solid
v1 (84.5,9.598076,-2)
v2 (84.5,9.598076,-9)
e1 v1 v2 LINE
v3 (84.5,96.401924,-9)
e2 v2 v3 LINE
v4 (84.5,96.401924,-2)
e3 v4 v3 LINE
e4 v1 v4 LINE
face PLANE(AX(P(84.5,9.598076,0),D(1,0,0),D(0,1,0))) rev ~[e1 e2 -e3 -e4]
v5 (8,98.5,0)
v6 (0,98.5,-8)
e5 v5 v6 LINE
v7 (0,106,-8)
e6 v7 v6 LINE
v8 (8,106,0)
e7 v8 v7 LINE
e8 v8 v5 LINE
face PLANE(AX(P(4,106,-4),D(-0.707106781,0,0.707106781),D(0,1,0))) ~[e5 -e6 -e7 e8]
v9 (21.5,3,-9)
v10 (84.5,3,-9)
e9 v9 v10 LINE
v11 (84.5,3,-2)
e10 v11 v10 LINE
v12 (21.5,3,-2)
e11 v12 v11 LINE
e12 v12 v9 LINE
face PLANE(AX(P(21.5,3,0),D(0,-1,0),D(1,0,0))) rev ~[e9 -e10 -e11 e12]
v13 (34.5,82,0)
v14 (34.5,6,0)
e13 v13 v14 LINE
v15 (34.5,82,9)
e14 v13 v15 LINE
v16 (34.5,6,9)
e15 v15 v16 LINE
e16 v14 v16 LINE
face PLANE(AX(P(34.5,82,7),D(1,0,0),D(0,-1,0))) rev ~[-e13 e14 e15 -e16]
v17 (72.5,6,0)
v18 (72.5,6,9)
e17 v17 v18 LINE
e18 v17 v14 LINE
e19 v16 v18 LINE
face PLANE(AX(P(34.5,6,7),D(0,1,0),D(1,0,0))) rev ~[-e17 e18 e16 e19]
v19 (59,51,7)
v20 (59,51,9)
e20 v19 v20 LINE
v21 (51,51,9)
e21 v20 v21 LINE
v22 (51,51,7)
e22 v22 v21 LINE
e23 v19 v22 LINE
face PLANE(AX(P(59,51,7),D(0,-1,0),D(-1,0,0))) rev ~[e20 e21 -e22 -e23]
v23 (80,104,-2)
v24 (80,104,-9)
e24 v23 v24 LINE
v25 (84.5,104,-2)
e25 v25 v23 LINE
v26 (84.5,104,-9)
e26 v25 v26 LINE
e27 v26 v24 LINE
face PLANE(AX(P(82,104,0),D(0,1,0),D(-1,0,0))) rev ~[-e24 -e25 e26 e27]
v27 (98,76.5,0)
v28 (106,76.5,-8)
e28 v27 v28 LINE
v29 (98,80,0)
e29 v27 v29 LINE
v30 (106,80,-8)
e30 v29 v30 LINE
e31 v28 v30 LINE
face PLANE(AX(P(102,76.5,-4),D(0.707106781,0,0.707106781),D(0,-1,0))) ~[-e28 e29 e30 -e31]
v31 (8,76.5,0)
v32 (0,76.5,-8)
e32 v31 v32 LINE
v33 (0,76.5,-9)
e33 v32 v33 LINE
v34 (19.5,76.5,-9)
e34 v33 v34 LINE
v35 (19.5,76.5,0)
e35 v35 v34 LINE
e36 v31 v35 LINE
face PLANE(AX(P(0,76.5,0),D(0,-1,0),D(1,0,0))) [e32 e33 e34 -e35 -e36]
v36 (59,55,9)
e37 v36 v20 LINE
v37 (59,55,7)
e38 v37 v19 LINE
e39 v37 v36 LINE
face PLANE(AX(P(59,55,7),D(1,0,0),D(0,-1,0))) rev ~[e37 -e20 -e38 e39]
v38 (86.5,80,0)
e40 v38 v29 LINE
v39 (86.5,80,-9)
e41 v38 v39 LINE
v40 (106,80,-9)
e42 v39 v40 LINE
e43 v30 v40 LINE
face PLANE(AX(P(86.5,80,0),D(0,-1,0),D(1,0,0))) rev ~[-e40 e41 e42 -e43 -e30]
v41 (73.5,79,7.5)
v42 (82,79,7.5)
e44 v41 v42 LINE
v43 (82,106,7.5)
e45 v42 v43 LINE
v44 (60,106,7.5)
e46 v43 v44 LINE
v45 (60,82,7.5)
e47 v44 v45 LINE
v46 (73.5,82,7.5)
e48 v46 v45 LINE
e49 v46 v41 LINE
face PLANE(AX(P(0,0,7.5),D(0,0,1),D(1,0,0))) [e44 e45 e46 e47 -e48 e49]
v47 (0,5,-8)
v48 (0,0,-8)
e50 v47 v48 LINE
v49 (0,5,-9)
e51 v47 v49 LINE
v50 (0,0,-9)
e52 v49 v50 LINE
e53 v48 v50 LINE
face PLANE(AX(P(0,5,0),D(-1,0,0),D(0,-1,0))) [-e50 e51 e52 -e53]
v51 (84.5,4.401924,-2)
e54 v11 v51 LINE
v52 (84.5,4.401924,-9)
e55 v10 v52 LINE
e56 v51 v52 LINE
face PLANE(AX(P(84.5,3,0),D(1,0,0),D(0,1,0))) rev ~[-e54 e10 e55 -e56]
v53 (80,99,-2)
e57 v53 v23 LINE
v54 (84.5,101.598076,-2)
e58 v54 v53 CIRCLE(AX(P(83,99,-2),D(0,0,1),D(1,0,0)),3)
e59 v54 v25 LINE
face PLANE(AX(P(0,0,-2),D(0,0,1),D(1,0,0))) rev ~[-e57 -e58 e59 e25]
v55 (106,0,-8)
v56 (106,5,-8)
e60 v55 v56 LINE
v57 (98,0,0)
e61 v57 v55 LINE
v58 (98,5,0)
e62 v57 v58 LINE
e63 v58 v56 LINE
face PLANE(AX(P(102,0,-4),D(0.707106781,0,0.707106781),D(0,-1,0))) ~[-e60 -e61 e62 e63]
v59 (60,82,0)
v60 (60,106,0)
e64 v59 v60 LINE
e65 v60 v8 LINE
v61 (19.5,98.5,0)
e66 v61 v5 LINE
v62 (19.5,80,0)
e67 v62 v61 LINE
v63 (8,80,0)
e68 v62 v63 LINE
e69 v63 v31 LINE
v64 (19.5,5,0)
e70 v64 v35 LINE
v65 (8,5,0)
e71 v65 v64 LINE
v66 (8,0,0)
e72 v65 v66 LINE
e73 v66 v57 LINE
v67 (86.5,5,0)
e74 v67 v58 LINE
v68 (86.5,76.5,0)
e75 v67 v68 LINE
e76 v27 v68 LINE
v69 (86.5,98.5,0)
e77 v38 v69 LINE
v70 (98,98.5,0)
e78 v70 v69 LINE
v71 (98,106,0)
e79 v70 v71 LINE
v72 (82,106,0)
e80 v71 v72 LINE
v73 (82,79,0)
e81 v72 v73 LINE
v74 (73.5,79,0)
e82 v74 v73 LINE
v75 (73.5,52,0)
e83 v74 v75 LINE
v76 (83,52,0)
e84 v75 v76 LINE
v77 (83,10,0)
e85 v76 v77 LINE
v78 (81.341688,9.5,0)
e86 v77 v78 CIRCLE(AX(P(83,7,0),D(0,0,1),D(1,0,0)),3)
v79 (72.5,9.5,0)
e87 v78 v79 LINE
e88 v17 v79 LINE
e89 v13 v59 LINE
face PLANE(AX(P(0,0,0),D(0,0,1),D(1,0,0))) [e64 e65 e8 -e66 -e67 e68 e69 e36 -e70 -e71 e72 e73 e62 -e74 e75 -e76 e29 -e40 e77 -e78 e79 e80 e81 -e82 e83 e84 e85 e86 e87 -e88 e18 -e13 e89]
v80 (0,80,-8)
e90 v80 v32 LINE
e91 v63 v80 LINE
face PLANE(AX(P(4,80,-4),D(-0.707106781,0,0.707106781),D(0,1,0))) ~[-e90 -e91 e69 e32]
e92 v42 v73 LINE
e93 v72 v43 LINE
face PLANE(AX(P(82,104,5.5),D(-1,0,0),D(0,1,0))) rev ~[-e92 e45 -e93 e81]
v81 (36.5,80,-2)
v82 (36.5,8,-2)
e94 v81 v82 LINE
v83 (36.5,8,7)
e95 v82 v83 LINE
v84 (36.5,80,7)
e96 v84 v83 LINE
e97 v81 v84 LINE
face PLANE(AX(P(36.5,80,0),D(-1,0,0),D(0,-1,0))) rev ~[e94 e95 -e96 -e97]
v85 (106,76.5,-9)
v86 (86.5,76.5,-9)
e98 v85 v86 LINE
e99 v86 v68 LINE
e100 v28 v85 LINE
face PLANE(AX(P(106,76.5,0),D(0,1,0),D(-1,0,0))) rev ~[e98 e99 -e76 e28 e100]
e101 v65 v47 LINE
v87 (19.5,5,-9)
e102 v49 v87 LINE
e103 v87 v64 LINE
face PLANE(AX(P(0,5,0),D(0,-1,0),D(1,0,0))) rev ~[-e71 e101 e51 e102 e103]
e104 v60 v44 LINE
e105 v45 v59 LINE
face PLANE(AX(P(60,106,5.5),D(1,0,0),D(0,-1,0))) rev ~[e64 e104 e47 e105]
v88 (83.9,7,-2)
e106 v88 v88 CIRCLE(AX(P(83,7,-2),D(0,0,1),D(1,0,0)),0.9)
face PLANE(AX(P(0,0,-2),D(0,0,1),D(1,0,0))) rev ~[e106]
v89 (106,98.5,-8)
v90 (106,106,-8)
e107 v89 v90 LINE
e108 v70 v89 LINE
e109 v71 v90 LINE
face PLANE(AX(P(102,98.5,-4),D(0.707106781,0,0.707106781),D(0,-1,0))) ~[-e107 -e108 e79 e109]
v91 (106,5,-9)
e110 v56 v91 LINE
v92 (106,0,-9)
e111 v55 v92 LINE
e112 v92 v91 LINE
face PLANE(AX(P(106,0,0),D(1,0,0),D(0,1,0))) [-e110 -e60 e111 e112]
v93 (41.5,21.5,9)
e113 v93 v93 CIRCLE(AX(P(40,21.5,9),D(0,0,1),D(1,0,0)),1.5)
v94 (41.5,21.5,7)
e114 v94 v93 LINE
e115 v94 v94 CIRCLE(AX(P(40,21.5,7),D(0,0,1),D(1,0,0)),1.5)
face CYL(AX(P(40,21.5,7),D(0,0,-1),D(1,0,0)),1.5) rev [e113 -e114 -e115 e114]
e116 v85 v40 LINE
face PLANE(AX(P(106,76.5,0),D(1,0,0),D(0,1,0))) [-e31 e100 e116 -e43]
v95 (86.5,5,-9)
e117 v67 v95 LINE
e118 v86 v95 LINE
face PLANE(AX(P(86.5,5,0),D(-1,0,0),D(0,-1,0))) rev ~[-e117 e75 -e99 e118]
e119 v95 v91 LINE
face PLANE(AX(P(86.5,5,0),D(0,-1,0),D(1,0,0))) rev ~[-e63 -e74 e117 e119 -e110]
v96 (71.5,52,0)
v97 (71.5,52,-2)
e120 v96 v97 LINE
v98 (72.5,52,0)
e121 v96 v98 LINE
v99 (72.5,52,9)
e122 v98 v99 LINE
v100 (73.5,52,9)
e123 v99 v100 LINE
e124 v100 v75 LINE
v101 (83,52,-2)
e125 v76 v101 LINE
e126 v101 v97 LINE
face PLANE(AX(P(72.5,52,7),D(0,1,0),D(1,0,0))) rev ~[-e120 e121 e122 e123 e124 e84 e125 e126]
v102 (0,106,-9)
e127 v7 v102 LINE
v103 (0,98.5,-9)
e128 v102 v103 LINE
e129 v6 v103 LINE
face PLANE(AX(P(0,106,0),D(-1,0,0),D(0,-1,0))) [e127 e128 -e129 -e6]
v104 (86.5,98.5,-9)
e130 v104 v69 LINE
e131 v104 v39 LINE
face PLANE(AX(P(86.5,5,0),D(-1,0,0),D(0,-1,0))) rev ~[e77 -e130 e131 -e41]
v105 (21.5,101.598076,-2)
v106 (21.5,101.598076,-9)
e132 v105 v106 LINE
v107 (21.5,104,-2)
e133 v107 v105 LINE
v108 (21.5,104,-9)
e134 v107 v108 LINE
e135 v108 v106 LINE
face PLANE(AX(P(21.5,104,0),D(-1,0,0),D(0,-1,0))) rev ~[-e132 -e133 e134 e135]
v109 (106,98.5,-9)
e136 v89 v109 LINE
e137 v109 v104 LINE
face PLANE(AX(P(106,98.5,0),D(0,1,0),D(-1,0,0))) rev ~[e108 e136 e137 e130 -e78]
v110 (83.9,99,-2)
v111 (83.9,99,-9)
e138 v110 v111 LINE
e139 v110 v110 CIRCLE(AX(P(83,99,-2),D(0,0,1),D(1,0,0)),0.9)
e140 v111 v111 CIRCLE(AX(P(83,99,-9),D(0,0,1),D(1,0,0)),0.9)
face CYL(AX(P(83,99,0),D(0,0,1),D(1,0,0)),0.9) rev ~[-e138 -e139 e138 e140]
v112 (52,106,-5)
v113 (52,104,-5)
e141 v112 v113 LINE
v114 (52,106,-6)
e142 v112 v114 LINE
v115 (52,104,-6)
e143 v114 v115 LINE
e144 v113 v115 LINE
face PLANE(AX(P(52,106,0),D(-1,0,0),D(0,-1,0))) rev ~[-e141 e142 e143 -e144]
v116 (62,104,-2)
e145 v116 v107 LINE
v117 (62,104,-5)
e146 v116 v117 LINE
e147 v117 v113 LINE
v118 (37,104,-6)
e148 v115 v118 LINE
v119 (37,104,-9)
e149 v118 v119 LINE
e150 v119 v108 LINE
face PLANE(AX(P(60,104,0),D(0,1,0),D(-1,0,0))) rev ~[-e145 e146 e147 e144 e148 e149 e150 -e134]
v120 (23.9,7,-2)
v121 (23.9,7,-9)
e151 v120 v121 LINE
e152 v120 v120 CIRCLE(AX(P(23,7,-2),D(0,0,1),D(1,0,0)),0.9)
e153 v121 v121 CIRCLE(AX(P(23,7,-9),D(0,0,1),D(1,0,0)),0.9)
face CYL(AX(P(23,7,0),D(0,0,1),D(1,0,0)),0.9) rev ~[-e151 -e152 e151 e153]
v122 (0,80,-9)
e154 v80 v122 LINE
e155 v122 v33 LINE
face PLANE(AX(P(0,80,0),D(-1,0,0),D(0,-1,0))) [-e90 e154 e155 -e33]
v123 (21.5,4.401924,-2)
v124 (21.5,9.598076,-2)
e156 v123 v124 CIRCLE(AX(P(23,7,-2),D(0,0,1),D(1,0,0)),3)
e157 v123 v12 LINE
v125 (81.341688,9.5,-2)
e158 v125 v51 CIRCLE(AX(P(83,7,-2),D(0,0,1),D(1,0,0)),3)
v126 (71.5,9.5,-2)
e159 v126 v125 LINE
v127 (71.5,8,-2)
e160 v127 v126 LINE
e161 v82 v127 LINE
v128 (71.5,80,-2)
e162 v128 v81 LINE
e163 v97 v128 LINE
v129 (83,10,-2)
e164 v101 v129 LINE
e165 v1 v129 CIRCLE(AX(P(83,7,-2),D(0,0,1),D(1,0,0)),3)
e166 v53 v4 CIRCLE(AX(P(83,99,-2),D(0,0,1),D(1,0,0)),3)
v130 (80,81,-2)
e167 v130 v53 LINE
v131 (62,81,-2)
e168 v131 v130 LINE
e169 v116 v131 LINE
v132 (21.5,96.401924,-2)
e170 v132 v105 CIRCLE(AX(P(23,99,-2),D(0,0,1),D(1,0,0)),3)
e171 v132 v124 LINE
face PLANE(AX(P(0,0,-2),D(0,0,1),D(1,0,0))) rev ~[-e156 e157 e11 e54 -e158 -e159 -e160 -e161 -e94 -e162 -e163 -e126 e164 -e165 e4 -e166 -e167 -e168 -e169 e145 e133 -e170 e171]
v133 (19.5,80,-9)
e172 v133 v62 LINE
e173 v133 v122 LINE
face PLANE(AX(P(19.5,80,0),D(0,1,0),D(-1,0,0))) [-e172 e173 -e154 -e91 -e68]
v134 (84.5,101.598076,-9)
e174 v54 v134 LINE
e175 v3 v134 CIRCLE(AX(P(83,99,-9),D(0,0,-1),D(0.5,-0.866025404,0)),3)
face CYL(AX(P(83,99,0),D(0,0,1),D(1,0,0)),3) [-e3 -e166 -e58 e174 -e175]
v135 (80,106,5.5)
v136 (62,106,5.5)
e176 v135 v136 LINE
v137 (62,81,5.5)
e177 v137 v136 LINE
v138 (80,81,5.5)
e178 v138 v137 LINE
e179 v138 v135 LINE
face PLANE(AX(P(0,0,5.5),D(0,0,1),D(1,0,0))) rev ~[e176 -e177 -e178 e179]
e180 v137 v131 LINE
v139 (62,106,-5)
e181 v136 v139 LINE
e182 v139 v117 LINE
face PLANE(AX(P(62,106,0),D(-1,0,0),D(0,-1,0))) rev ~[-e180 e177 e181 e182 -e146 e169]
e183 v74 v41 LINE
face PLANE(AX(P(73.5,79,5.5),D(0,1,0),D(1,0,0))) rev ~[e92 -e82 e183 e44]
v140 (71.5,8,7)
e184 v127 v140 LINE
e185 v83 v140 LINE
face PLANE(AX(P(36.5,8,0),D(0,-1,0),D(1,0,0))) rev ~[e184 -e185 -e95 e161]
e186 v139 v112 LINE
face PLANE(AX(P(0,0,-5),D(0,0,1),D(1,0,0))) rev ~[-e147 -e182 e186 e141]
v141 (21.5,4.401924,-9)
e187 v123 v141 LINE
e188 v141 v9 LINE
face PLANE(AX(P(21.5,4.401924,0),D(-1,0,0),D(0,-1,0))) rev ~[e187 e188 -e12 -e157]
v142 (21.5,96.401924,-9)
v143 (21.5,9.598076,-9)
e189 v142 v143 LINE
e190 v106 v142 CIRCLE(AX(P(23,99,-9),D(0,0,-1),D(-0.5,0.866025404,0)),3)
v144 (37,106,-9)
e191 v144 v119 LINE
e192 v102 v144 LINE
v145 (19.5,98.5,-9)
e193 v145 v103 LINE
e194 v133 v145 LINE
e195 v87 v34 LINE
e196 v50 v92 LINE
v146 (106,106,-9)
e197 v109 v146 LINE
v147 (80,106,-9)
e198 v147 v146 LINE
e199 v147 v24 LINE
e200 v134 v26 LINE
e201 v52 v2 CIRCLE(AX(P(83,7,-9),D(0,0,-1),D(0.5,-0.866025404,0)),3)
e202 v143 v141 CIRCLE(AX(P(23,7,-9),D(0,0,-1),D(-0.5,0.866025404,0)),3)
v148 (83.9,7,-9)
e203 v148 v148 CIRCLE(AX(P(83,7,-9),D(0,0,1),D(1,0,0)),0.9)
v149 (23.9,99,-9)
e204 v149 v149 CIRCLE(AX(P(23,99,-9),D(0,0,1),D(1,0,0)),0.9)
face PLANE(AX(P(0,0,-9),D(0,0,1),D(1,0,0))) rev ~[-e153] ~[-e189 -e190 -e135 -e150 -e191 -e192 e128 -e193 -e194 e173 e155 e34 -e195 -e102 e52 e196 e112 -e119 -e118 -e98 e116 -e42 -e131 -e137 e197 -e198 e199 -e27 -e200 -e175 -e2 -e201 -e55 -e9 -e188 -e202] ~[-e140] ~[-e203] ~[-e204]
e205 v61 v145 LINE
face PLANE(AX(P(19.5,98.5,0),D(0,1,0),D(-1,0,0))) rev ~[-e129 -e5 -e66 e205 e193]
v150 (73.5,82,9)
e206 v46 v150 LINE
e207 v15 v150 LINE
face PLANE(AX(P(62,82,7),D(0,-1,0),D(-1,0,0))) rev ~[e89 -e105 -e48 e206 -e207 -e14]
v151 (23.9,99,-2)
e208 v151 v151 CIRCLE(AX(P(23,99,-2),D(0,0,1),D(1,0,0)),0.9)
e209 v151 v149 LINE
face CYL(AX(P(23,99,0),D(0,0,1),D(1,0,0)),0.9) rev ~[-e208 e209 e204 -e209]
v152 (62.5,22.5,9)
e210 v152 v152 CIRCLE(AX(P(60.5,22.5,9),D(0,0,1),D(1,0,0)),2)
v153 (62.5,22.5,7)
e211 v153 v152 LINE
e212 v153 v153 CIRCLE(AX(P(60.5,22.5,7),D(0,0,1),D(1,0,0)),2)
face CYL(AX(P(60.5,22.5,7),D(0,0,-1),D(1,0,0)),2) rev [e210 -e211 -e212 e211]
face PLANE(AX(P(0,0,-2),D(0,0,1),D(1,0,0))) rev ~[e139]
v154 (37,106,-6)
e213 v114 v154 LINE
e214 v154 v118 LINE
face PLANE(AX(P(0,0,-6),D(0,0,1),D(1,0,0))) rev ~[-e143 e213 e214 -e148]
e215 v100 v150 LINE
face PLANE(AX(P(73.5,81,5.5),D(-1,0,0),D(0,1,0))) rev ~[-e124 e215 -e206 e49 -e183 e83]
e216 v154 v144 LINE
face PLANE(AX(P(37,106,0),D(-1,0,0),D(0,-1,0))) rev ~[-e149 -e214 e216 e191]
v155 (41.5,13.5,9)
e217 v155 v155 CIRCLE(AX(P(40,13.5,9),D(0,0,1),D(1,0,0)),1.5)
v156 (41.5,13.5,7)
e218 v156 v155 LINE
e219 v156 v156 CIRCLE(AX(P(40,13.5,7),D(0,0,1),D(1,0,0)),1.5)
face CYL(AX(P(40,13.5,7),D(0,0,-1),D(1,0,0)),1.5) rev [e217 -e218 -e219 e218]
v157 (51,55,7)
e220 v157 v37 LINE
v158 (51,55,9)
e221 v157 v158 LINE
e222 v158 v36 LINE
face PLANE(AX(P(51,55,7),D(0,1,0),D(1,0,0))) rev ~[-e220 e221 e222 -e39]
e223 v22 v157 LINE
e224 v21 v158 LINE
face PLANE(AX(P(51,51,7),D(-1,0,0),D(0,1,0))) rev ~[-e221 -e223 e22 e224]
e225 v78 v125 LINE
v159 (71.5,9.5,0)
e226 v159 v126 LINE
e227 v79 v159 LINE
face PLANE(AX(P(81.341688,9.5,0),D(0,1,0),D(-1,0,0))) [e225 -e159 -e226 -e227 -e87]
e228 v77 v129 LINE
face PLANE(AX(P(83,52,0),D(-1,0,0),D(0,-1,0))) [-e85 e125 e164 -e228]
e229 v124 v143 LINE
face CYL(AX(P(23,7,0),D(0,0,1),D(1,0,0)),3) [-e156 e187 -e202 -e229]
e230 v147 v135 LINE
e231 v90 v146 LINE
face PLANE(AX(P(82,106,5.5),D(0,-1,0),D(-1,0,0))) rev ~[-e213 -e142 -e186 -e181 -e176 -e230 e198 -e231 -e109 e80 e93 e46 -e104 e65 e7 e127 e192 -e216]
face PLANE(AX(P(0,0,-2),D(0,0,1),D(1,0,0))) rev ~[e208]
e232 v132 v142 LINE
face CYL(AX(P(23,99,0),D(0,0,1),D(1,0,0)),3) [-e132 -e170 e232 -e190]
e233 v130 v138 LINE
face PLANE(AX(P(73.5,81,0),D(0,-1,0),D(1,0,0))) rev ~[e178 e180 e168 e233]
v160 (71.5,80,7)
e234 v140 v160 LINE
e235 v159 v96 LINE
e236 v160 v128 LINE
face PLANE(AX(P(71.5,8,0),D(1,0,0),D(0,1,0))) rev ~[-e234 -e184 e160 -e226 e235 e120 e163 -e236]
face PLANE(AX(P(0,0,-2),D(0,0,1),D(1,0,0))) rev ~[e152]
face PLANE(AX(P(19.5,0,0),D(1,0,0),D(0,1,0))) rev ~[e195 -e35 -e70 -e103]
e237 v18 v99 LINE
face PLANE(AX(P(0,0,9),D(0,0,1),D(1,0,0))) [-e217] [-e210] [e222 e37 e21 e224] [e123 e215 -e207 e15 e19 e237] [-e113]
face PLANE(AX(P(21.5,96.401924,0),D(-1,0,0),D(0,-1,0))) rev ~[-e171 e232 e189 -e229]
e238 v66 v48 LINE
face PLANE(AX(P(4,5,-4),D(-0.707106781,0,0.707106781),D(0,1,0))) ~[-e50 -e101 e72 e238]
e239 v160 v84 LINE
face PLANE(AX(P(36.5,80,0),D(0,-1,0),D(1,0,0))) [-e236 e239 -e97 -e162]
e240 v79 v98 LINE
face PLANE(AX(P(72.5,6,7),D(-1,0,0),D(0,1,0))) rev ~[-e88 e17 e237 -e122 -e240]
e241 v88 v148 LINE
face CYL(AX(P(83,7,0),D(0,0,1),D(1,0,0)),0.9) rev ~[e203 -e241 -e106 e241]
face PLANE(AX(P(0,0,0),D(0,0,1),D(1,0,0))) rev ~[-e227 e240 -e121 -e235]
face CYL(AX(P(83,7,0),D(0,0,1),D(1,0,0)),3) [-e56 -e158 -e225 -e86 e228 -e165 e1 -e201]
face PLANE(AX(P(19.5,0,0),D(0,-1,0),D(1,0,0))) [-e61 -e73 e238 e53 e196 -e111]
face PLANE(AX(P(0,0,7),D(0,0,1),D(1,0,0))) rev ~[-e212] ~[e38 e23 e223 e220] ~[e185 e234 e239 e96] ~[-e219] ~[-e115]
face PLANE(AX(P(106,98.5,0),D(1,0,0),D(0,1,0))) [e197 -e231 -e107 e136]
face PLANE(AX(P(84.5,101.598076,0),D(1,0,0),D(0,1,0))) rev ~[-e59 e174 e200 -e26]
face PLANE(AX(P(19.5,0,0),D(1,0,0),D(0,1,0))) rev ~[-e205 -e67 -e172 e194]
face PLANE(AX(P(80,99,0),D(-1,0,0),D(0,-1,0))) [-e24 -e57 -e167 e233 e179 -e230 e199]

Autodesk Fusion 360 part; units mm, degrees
sketch "Base Sketch" plane through (0, 0, 0) normal (0, 0, 1) x (1, 0, 0)
  line L0 (0, 0) -> (106, 0)
  line L1 (106, 0) -> (106, 106)
  line L2 (106, 106) -> (0, 106)
  line L3 (0, 106) -> (0, 0)
  line L4 (19.5, 106) -> (86.5, 106)
  line L5 (86.5, 106) -> (86.5, 0)
  line L6 (86.5, 0) -> (19.5, 0)
  line L7 (19.5, 0) -> (19.5, 106)
  line L8 (21.5, 3) -> (84.5, 3)
  line L9 (84.5, 3) -> (84.5, 104)
  line L10 (84.5, 104) -> (21.5, 104)
  line L11 (21.5, 104) -> (21.5, 3)
  circle A0 centre (23, 7) radius 3
  circle A1 centre (23, 7) radius 0.9
  circle A2 centre (83, 7) radius 0.9
  circle A3 centre (83, 7) radius 3
  circle A4 centre (83, 99) radius 0.9
  circle A5 centre (83, 99) radius 3
  circle A6 centre (23, 99) radius 0.9
  circle A7 centre (23, 99) radius 3
  line L12 (80, 106) -> (80, 104)
  line L13 (52, 106) -> (52, 104)
  line L14 (37, 106) -> (37, 104)
  line L15 (86.5, 5) -> (106, 5)
  line L16 (106, 5) -> (106, 0)
  line L17 (106, 0) -> (86.5, 0)
  line L18 (86.5, 0) -> (86.5, 5)
  line L19 (0, 5) -> (19.5, 5)
  line L20 (19.5, 5) -> (19.5, 0)
  line L21 (19.5, 0) -> (0, 0)
  line L22 (0, 0) -> (0, 5)
  line L23 (86.5, 106) -> (106, 106)
  line L24 (106, 106) -> (106, 98.5)
  line L25 (106, 98.5) -> (86.5, 98.5)
  line L26 (86.5, 98.5) -> (86.5, 106)
  line L27 (0, 106) -> (19.5, 106)
  line L28 (19.5, 106) -> (19.5, 98.5)
  line L29 (19.5, 98.5) -> (0, 98.5)
  line L30 (0, 98.5) -> (0, 106)
  line L31 (106, 76.5) -> (86.5, 76.5)
  line L32 (86.5, 76.5) -> (86.5, 80)
  line L33 (86.5, 80) -> (106, 80)
  line L34 (106, 80) -> (106, 76.5)
  line L35 (0, 76.5) -> (19.5, 76.5)
  line L36 (19.5, 76.5) -> (19.5, 80)
  line L37 (19.5, 80) -> (0, 80)
  line L38 (0, 80) -> (0, 76.5)
  line L39 (63.5, 104) -> (80, 104)
  line L40 (80, 104) -> (80, 81)
  line L41 (36.5, 8) -> (71.5, 8)
  line L42 (71.5, 52) -> (83, 52)
  line L43 (83, 52) -> (83, 9.5)
  line L44 (83, 9.5) -> (71.5, 9.5)
  line L45 (71.5, 9.5) -> (71.5, 52)
  line L46 (62, 106) -> (62, 104)
  line L47 (62, 104) -> (62, 81)
  line L48 (36.5, 80) -> (71.5, 80)
  line L49 (36.5, 80) -> (36.5, 8)
  line L50 (71.5, 8) -> (71.5, 80)
  line L51 (62, 81) -> (80, 81)
  line L52 (36.5, 80) -> (62, 80)
  line L53 (62, 80) -> (62, 82)
  line L54 (62, 82) -> (36.5, 82)
  line L55 (36.5, 82) -> (36.5, 80)
  line L56 (62, 106) -> (60, 106)
  line L57 (60, 106) -> (60, 82)
  line L58 (60, 82) -> (62, 82)
  line L59 (62, 82) -> (62, 106)
  line L60 (80, 81) -> (82, 81)
  line L61 (82, 81) -> (82, 106)
  line L62 (82, 106) -> (80, 106)
  line L63 (80, 106) -> (80, 81)
  line L64 (82, 81) -> (71.5, 81)
  line L65 (71.5, 81) -> (71.5, 79)
  line L66 (71.5, 79) -> (82, 79)
  line L67 (82, 79) -> (82, 81)
  line L68 (71.5, 79) -> (73.5, 79)
  line L69 (73.5, 79) -> (73.5, 52)
  line L70 (73.5, 52) -> (71.5, 52)
  line L71 (71.5, 52) -> (71.5, 79)
  line L72 (36.5, 82) -> (34.5, 82)
  line L73 (34.5, 82) -> (34.5, 6)
  line L74 (34.5, 6) -> (36.5, 6)
  line L75 (36.5, 6) -> (36.5, 82)
  line L76 (36.5, 6) -> (71.5, 6)
  line L77 (71.5, 6) -> (71.5, 8)
  line L78 (71.5, 8) -> (36.5, 8)
  line L79 (36.5, 8) -> (36.5, 6)
  line L80 (71.5, 6) -> (72.5, 6)
  line L81 (72.5, 6) -> (72.5, 52)
  line L82 (72.5, 52) -> (71.5, 52)
  line L83 (71.5, 52) -> (71.5, 6)
  line L84 (62, 81) -> (73.5, 81)
  line L85 (73.5, 81) -> (73.5, 82)
  line L86 (73.5, 82) -> (62, 82)
  line L87 (62, 82) -> (62, 81)
  line L88 (73.5, 81) -> (73.5, 79)
  line L89 (51, 55) -> (59, 55)
  line L90 (59, 55) -> (59, 51)
  line L91 (59, 51) -> (51, 51)
  line L92 (51, 51) -> (51, 55)
  circle A8 centre (60.5, 22.5) radius 2
  circle A9 centre (40, 21.5) radius 1.5
  circle A10 centre (40, 13.5) radius 1.5
  dimension "d1" = 106
  dimension "d2" = 106
  dimension "d4" = 67
  dimension "d5" = 19.5
  dimension "d6" = 63
  dimension "d8" = 2
  dimension "d9" = 3
  dimension "d10" = 6
  dimension "d12" = 6
  dimension "d13" = 6
  dimension "d14" = 6
  dimension "d15" = 23
  dimension "d16" = 23
  dimension "d17" = 23
  dimension "d18" = 23
  dimension "d19" = 7
  dimension "d20" = 7
  dimension "d21" = 7
  dimension "d22" = 7
  dimension "d24" = 2
  dimension "d25" = 6.5
  dimension "d28" = 15
  dimension "d35" = 5
  dimension "d36" = 5
  dimension "d37" = 7.5
  dimension "d38" = 7.5
  dimension "d39" = 3.5
  dimension "d40" = 26
  dimension "d41" = 3.5
  dimension "d42" = 26
  dimension "d45" = 8
  dimension "d48" = 42.5
  dimension "d49" = 9.5
  dimension "d60" = 10
  dimension "d62" = 18
  dimension "d63" = 1.8
  dimension "d64" = 1.8
  dimension "d65" = 1.8
  dimension "d66" = 1.8
  dimension "d68" = 72
  dimension "d69" = 25
  dimension "d70" = 35
  dimension "d71" = 2
  dimension "d72" = 2
  dimension "d73" = 2
  dimension "d74" = 2
  dimension "d75" = 2
  dimension "d76" = 11.5
  dimension "d77" = 2
  dimension "d78" = 2
  dimension "d87" = 1
  dimension "d88" = 25.5
  dimension "d89" = 44
  dimension "d90" = 36.5
  dimension "d94" = 1
  dimension "d95" = 11.5
  dimension "d96" = 8
  dimension "d97" = 4
  dimension "d98" = 25
  dimension "d99" = 14.5
  dimension "d100" = 4
  dimension "d101" = 3
  dimension "d102" = 3
  dimension "d103" = 5.5
  dimension "d104" = 13.5
  dimension "d105" = 3.5
  dimension "d106" = 3.5
  dimension "d107" = 14.5
  dimension "d108" = 24
extrude "Extrude1" add sketch "Base Sketch" against normal blind 9 contours L0 L3 L7 L19 L20 L21 L22 | L0 L2 L4 L5 L6 L7 L8 L9 L10 L11 A0 A3 A5 A7 L14 L18 L20 L26 L28 L32 L36 L61 | L0 L1 L5 L15 L16 L17 L18 | L3 L7 L35 L36 L37 L38 | L1 L5 L31 L32 L33 L34 | L2 L3 L7 L27 L28 L29 L30 | L1 L2 L5 L23 L24 L25 L26 | L2 L4 L10 L12 L61 L62 L63 | A5 L61 | L9 A5 L61 | L11 A7 | L11 A7 | L9 A5 | L11 A0 | L11 A0 | L9 A3 | L9 A3 L43 L44 | A3 L43 L44 makes body 1
extrude "Extrude2" add sketch "Base Sketch" against normal blind 6 contours L2 L4 L10 L13 L14 bodies 1
extrude "Extrude3" add sketch "Base Sketch" against normal blind 5 contours L2 L4 L10 L13 L57 | L2 L4 L10 L46 L56 L57 L59 bodies 1
extrude "Extrude4" add sketch "Base Sketch" against normal blind 2 separate body contours L0 L2 L4 L5 L6 L7 L8 L9 L10 L11 A0 A3 A5 A7 L14 L18 L20 L26 L28 L32 L36 L61 | L2 L4 L10 L13 L14 | L2 L4 L10 L12 L61 L62 L63 | L2 L4 L10 L13 L57 | L8 L9 L10 L11 A0 A3 A7 L44 L54 L57 L72 L73 L74 L76 L80 L81 | L10 A5 L40 L61 L63 | L9 L10 A5 L61 | L2 L4 L10 L46 L56 L57 L59 | A5 L61 | L9 A5 L61 | L10 L47 L54 L57 L58 L59 | L11 A7 | L11 A7 | A5 L40 L60 L61 L63 L64 | L9 A5 | L9 A3 A5 L42 L43 L61 L66 L67 L69 | L47 L48 L52 L53 L54 L55 L58 L75 L87 | L51 L60 L64 L66 L67 L88 | L49 L55 L72 L73 L74 L75 L79 | L11 A0 | L11 A0 | L48 L51 L53 L65 L84 | L50 L51 L64 L65 L66 L68 L84 L88 | L9 A3 | L9 A3 L43 L44 | L42 L50 L66 L68 L69 L70 L71 L82 | A3 L43 L44 | L41 L75 L76 L77 L78 L79 L83 | L44 L50 L77 L80 L81 L83 | A1 | A2 | A4 | A6 makes body 2
chamfer "Chamfer1" distance 8 angle 45 1 edges at (106, 102.25, 0) on bodies 1
chamfer "Chamfer2" distance 8 angle 45 1 edges at (106, 78.25, 0) on bodies 1
chamfer "Chamfer3" distance 8 angle 45 1 edges at (106, 2.5, 0) on bodies 1
chamfer "Chamfer4" distance 8 angle 45 1 edges at (0, 102.25, 0) on bodies 1
chamfer "Chamfer5" distance 8 angle 45 1 edges at (0, 78.25, 0) on bodies 1
chamfer "Chamfer6" distance 8 angle 45 1 edges at (0, 2.5, 0) on bodies 1
extrude "Extrude5" add sketch "Base Sketch" along normal blind 7 contours L47 L48 L52 L53 L54 L55 L58 L75 L87 | L49 L55 L72 L73 L74 L75 L79 | L48 L51 L53 L65 L84 | L50 L51 L64 L65 L66 L68 L84 L88 | L42 L50 L66 L68 L69 L70 L71 L82 | L41 L75 L76 L77 L78 L79 L83 | L44 L50 L77 L80 L81 L83 | L42 L44 L45 L50 L70 L81 L82 L83 bodies 2
extrude "Extrude6" add sketch "Base Sketch" along normal blind 2 from surface at 7 separate body contours L47 L48 L52 L53 L54 L55 L58 L75 L87 | L49 L55 L72 L73 L74 L75 L79 | L48 L51 L53 L65 L84 | L50 L51 L64 L65 L66 L68 L84 L88 | L41 L45 L48 L49 L50 L52 L65 L71 L75 L78 L83 | L42 L50 L66 L68 L69 L70 L71 L82 | L41 L75 L76 L77 L78 L79 L83 | L44 L50 L77 L80 L81 L83 | L42 L44 L45 L50 L70 L81 L82 L83 makes body 3
extrude "Extrude7" add sketch "Base Sketch" along normal blind 5.5 contours L2 L4 L10 L12 L61 L62 L63 | L10 A5 L40 L61 L63 | L2 L4 L10 L46 L56 L57 L59 | A5 L61 | L10 L47 L54 L57 L58 L59 | A5 L40 L60 L61 L63 L64 | L51 L60 L64 L66 L67 L88 bodies 2 1
extrude "Extrude8" add sketch "Base Sketch" along normal blind 2 from surface at 5.5 separate body contours L2 L4 L10 L12 L61 L62 L63 | L2 L4 L10 L12 L39 L46 L59 L63 | L10 A5 L40 L61 L63 | L2 L4 L10 L46 L56 L57 L59 | L10 L39 L40 L47 L51 L59 L63 L64 L85 L86 | A5 L61 | L10 L47 L54 L57 L58 L59 | A5 L40 L60 L61 L63 L64 | L51 L60 L64 L66 L67 L88 makes body 4
extrude "Extrude9" add sketch "Base Sketch" along normal blind 3.5 from surface at 5.5 contours L47 L51 L53 L64 L84 L85 L86 L87 bodies 2 3 4
